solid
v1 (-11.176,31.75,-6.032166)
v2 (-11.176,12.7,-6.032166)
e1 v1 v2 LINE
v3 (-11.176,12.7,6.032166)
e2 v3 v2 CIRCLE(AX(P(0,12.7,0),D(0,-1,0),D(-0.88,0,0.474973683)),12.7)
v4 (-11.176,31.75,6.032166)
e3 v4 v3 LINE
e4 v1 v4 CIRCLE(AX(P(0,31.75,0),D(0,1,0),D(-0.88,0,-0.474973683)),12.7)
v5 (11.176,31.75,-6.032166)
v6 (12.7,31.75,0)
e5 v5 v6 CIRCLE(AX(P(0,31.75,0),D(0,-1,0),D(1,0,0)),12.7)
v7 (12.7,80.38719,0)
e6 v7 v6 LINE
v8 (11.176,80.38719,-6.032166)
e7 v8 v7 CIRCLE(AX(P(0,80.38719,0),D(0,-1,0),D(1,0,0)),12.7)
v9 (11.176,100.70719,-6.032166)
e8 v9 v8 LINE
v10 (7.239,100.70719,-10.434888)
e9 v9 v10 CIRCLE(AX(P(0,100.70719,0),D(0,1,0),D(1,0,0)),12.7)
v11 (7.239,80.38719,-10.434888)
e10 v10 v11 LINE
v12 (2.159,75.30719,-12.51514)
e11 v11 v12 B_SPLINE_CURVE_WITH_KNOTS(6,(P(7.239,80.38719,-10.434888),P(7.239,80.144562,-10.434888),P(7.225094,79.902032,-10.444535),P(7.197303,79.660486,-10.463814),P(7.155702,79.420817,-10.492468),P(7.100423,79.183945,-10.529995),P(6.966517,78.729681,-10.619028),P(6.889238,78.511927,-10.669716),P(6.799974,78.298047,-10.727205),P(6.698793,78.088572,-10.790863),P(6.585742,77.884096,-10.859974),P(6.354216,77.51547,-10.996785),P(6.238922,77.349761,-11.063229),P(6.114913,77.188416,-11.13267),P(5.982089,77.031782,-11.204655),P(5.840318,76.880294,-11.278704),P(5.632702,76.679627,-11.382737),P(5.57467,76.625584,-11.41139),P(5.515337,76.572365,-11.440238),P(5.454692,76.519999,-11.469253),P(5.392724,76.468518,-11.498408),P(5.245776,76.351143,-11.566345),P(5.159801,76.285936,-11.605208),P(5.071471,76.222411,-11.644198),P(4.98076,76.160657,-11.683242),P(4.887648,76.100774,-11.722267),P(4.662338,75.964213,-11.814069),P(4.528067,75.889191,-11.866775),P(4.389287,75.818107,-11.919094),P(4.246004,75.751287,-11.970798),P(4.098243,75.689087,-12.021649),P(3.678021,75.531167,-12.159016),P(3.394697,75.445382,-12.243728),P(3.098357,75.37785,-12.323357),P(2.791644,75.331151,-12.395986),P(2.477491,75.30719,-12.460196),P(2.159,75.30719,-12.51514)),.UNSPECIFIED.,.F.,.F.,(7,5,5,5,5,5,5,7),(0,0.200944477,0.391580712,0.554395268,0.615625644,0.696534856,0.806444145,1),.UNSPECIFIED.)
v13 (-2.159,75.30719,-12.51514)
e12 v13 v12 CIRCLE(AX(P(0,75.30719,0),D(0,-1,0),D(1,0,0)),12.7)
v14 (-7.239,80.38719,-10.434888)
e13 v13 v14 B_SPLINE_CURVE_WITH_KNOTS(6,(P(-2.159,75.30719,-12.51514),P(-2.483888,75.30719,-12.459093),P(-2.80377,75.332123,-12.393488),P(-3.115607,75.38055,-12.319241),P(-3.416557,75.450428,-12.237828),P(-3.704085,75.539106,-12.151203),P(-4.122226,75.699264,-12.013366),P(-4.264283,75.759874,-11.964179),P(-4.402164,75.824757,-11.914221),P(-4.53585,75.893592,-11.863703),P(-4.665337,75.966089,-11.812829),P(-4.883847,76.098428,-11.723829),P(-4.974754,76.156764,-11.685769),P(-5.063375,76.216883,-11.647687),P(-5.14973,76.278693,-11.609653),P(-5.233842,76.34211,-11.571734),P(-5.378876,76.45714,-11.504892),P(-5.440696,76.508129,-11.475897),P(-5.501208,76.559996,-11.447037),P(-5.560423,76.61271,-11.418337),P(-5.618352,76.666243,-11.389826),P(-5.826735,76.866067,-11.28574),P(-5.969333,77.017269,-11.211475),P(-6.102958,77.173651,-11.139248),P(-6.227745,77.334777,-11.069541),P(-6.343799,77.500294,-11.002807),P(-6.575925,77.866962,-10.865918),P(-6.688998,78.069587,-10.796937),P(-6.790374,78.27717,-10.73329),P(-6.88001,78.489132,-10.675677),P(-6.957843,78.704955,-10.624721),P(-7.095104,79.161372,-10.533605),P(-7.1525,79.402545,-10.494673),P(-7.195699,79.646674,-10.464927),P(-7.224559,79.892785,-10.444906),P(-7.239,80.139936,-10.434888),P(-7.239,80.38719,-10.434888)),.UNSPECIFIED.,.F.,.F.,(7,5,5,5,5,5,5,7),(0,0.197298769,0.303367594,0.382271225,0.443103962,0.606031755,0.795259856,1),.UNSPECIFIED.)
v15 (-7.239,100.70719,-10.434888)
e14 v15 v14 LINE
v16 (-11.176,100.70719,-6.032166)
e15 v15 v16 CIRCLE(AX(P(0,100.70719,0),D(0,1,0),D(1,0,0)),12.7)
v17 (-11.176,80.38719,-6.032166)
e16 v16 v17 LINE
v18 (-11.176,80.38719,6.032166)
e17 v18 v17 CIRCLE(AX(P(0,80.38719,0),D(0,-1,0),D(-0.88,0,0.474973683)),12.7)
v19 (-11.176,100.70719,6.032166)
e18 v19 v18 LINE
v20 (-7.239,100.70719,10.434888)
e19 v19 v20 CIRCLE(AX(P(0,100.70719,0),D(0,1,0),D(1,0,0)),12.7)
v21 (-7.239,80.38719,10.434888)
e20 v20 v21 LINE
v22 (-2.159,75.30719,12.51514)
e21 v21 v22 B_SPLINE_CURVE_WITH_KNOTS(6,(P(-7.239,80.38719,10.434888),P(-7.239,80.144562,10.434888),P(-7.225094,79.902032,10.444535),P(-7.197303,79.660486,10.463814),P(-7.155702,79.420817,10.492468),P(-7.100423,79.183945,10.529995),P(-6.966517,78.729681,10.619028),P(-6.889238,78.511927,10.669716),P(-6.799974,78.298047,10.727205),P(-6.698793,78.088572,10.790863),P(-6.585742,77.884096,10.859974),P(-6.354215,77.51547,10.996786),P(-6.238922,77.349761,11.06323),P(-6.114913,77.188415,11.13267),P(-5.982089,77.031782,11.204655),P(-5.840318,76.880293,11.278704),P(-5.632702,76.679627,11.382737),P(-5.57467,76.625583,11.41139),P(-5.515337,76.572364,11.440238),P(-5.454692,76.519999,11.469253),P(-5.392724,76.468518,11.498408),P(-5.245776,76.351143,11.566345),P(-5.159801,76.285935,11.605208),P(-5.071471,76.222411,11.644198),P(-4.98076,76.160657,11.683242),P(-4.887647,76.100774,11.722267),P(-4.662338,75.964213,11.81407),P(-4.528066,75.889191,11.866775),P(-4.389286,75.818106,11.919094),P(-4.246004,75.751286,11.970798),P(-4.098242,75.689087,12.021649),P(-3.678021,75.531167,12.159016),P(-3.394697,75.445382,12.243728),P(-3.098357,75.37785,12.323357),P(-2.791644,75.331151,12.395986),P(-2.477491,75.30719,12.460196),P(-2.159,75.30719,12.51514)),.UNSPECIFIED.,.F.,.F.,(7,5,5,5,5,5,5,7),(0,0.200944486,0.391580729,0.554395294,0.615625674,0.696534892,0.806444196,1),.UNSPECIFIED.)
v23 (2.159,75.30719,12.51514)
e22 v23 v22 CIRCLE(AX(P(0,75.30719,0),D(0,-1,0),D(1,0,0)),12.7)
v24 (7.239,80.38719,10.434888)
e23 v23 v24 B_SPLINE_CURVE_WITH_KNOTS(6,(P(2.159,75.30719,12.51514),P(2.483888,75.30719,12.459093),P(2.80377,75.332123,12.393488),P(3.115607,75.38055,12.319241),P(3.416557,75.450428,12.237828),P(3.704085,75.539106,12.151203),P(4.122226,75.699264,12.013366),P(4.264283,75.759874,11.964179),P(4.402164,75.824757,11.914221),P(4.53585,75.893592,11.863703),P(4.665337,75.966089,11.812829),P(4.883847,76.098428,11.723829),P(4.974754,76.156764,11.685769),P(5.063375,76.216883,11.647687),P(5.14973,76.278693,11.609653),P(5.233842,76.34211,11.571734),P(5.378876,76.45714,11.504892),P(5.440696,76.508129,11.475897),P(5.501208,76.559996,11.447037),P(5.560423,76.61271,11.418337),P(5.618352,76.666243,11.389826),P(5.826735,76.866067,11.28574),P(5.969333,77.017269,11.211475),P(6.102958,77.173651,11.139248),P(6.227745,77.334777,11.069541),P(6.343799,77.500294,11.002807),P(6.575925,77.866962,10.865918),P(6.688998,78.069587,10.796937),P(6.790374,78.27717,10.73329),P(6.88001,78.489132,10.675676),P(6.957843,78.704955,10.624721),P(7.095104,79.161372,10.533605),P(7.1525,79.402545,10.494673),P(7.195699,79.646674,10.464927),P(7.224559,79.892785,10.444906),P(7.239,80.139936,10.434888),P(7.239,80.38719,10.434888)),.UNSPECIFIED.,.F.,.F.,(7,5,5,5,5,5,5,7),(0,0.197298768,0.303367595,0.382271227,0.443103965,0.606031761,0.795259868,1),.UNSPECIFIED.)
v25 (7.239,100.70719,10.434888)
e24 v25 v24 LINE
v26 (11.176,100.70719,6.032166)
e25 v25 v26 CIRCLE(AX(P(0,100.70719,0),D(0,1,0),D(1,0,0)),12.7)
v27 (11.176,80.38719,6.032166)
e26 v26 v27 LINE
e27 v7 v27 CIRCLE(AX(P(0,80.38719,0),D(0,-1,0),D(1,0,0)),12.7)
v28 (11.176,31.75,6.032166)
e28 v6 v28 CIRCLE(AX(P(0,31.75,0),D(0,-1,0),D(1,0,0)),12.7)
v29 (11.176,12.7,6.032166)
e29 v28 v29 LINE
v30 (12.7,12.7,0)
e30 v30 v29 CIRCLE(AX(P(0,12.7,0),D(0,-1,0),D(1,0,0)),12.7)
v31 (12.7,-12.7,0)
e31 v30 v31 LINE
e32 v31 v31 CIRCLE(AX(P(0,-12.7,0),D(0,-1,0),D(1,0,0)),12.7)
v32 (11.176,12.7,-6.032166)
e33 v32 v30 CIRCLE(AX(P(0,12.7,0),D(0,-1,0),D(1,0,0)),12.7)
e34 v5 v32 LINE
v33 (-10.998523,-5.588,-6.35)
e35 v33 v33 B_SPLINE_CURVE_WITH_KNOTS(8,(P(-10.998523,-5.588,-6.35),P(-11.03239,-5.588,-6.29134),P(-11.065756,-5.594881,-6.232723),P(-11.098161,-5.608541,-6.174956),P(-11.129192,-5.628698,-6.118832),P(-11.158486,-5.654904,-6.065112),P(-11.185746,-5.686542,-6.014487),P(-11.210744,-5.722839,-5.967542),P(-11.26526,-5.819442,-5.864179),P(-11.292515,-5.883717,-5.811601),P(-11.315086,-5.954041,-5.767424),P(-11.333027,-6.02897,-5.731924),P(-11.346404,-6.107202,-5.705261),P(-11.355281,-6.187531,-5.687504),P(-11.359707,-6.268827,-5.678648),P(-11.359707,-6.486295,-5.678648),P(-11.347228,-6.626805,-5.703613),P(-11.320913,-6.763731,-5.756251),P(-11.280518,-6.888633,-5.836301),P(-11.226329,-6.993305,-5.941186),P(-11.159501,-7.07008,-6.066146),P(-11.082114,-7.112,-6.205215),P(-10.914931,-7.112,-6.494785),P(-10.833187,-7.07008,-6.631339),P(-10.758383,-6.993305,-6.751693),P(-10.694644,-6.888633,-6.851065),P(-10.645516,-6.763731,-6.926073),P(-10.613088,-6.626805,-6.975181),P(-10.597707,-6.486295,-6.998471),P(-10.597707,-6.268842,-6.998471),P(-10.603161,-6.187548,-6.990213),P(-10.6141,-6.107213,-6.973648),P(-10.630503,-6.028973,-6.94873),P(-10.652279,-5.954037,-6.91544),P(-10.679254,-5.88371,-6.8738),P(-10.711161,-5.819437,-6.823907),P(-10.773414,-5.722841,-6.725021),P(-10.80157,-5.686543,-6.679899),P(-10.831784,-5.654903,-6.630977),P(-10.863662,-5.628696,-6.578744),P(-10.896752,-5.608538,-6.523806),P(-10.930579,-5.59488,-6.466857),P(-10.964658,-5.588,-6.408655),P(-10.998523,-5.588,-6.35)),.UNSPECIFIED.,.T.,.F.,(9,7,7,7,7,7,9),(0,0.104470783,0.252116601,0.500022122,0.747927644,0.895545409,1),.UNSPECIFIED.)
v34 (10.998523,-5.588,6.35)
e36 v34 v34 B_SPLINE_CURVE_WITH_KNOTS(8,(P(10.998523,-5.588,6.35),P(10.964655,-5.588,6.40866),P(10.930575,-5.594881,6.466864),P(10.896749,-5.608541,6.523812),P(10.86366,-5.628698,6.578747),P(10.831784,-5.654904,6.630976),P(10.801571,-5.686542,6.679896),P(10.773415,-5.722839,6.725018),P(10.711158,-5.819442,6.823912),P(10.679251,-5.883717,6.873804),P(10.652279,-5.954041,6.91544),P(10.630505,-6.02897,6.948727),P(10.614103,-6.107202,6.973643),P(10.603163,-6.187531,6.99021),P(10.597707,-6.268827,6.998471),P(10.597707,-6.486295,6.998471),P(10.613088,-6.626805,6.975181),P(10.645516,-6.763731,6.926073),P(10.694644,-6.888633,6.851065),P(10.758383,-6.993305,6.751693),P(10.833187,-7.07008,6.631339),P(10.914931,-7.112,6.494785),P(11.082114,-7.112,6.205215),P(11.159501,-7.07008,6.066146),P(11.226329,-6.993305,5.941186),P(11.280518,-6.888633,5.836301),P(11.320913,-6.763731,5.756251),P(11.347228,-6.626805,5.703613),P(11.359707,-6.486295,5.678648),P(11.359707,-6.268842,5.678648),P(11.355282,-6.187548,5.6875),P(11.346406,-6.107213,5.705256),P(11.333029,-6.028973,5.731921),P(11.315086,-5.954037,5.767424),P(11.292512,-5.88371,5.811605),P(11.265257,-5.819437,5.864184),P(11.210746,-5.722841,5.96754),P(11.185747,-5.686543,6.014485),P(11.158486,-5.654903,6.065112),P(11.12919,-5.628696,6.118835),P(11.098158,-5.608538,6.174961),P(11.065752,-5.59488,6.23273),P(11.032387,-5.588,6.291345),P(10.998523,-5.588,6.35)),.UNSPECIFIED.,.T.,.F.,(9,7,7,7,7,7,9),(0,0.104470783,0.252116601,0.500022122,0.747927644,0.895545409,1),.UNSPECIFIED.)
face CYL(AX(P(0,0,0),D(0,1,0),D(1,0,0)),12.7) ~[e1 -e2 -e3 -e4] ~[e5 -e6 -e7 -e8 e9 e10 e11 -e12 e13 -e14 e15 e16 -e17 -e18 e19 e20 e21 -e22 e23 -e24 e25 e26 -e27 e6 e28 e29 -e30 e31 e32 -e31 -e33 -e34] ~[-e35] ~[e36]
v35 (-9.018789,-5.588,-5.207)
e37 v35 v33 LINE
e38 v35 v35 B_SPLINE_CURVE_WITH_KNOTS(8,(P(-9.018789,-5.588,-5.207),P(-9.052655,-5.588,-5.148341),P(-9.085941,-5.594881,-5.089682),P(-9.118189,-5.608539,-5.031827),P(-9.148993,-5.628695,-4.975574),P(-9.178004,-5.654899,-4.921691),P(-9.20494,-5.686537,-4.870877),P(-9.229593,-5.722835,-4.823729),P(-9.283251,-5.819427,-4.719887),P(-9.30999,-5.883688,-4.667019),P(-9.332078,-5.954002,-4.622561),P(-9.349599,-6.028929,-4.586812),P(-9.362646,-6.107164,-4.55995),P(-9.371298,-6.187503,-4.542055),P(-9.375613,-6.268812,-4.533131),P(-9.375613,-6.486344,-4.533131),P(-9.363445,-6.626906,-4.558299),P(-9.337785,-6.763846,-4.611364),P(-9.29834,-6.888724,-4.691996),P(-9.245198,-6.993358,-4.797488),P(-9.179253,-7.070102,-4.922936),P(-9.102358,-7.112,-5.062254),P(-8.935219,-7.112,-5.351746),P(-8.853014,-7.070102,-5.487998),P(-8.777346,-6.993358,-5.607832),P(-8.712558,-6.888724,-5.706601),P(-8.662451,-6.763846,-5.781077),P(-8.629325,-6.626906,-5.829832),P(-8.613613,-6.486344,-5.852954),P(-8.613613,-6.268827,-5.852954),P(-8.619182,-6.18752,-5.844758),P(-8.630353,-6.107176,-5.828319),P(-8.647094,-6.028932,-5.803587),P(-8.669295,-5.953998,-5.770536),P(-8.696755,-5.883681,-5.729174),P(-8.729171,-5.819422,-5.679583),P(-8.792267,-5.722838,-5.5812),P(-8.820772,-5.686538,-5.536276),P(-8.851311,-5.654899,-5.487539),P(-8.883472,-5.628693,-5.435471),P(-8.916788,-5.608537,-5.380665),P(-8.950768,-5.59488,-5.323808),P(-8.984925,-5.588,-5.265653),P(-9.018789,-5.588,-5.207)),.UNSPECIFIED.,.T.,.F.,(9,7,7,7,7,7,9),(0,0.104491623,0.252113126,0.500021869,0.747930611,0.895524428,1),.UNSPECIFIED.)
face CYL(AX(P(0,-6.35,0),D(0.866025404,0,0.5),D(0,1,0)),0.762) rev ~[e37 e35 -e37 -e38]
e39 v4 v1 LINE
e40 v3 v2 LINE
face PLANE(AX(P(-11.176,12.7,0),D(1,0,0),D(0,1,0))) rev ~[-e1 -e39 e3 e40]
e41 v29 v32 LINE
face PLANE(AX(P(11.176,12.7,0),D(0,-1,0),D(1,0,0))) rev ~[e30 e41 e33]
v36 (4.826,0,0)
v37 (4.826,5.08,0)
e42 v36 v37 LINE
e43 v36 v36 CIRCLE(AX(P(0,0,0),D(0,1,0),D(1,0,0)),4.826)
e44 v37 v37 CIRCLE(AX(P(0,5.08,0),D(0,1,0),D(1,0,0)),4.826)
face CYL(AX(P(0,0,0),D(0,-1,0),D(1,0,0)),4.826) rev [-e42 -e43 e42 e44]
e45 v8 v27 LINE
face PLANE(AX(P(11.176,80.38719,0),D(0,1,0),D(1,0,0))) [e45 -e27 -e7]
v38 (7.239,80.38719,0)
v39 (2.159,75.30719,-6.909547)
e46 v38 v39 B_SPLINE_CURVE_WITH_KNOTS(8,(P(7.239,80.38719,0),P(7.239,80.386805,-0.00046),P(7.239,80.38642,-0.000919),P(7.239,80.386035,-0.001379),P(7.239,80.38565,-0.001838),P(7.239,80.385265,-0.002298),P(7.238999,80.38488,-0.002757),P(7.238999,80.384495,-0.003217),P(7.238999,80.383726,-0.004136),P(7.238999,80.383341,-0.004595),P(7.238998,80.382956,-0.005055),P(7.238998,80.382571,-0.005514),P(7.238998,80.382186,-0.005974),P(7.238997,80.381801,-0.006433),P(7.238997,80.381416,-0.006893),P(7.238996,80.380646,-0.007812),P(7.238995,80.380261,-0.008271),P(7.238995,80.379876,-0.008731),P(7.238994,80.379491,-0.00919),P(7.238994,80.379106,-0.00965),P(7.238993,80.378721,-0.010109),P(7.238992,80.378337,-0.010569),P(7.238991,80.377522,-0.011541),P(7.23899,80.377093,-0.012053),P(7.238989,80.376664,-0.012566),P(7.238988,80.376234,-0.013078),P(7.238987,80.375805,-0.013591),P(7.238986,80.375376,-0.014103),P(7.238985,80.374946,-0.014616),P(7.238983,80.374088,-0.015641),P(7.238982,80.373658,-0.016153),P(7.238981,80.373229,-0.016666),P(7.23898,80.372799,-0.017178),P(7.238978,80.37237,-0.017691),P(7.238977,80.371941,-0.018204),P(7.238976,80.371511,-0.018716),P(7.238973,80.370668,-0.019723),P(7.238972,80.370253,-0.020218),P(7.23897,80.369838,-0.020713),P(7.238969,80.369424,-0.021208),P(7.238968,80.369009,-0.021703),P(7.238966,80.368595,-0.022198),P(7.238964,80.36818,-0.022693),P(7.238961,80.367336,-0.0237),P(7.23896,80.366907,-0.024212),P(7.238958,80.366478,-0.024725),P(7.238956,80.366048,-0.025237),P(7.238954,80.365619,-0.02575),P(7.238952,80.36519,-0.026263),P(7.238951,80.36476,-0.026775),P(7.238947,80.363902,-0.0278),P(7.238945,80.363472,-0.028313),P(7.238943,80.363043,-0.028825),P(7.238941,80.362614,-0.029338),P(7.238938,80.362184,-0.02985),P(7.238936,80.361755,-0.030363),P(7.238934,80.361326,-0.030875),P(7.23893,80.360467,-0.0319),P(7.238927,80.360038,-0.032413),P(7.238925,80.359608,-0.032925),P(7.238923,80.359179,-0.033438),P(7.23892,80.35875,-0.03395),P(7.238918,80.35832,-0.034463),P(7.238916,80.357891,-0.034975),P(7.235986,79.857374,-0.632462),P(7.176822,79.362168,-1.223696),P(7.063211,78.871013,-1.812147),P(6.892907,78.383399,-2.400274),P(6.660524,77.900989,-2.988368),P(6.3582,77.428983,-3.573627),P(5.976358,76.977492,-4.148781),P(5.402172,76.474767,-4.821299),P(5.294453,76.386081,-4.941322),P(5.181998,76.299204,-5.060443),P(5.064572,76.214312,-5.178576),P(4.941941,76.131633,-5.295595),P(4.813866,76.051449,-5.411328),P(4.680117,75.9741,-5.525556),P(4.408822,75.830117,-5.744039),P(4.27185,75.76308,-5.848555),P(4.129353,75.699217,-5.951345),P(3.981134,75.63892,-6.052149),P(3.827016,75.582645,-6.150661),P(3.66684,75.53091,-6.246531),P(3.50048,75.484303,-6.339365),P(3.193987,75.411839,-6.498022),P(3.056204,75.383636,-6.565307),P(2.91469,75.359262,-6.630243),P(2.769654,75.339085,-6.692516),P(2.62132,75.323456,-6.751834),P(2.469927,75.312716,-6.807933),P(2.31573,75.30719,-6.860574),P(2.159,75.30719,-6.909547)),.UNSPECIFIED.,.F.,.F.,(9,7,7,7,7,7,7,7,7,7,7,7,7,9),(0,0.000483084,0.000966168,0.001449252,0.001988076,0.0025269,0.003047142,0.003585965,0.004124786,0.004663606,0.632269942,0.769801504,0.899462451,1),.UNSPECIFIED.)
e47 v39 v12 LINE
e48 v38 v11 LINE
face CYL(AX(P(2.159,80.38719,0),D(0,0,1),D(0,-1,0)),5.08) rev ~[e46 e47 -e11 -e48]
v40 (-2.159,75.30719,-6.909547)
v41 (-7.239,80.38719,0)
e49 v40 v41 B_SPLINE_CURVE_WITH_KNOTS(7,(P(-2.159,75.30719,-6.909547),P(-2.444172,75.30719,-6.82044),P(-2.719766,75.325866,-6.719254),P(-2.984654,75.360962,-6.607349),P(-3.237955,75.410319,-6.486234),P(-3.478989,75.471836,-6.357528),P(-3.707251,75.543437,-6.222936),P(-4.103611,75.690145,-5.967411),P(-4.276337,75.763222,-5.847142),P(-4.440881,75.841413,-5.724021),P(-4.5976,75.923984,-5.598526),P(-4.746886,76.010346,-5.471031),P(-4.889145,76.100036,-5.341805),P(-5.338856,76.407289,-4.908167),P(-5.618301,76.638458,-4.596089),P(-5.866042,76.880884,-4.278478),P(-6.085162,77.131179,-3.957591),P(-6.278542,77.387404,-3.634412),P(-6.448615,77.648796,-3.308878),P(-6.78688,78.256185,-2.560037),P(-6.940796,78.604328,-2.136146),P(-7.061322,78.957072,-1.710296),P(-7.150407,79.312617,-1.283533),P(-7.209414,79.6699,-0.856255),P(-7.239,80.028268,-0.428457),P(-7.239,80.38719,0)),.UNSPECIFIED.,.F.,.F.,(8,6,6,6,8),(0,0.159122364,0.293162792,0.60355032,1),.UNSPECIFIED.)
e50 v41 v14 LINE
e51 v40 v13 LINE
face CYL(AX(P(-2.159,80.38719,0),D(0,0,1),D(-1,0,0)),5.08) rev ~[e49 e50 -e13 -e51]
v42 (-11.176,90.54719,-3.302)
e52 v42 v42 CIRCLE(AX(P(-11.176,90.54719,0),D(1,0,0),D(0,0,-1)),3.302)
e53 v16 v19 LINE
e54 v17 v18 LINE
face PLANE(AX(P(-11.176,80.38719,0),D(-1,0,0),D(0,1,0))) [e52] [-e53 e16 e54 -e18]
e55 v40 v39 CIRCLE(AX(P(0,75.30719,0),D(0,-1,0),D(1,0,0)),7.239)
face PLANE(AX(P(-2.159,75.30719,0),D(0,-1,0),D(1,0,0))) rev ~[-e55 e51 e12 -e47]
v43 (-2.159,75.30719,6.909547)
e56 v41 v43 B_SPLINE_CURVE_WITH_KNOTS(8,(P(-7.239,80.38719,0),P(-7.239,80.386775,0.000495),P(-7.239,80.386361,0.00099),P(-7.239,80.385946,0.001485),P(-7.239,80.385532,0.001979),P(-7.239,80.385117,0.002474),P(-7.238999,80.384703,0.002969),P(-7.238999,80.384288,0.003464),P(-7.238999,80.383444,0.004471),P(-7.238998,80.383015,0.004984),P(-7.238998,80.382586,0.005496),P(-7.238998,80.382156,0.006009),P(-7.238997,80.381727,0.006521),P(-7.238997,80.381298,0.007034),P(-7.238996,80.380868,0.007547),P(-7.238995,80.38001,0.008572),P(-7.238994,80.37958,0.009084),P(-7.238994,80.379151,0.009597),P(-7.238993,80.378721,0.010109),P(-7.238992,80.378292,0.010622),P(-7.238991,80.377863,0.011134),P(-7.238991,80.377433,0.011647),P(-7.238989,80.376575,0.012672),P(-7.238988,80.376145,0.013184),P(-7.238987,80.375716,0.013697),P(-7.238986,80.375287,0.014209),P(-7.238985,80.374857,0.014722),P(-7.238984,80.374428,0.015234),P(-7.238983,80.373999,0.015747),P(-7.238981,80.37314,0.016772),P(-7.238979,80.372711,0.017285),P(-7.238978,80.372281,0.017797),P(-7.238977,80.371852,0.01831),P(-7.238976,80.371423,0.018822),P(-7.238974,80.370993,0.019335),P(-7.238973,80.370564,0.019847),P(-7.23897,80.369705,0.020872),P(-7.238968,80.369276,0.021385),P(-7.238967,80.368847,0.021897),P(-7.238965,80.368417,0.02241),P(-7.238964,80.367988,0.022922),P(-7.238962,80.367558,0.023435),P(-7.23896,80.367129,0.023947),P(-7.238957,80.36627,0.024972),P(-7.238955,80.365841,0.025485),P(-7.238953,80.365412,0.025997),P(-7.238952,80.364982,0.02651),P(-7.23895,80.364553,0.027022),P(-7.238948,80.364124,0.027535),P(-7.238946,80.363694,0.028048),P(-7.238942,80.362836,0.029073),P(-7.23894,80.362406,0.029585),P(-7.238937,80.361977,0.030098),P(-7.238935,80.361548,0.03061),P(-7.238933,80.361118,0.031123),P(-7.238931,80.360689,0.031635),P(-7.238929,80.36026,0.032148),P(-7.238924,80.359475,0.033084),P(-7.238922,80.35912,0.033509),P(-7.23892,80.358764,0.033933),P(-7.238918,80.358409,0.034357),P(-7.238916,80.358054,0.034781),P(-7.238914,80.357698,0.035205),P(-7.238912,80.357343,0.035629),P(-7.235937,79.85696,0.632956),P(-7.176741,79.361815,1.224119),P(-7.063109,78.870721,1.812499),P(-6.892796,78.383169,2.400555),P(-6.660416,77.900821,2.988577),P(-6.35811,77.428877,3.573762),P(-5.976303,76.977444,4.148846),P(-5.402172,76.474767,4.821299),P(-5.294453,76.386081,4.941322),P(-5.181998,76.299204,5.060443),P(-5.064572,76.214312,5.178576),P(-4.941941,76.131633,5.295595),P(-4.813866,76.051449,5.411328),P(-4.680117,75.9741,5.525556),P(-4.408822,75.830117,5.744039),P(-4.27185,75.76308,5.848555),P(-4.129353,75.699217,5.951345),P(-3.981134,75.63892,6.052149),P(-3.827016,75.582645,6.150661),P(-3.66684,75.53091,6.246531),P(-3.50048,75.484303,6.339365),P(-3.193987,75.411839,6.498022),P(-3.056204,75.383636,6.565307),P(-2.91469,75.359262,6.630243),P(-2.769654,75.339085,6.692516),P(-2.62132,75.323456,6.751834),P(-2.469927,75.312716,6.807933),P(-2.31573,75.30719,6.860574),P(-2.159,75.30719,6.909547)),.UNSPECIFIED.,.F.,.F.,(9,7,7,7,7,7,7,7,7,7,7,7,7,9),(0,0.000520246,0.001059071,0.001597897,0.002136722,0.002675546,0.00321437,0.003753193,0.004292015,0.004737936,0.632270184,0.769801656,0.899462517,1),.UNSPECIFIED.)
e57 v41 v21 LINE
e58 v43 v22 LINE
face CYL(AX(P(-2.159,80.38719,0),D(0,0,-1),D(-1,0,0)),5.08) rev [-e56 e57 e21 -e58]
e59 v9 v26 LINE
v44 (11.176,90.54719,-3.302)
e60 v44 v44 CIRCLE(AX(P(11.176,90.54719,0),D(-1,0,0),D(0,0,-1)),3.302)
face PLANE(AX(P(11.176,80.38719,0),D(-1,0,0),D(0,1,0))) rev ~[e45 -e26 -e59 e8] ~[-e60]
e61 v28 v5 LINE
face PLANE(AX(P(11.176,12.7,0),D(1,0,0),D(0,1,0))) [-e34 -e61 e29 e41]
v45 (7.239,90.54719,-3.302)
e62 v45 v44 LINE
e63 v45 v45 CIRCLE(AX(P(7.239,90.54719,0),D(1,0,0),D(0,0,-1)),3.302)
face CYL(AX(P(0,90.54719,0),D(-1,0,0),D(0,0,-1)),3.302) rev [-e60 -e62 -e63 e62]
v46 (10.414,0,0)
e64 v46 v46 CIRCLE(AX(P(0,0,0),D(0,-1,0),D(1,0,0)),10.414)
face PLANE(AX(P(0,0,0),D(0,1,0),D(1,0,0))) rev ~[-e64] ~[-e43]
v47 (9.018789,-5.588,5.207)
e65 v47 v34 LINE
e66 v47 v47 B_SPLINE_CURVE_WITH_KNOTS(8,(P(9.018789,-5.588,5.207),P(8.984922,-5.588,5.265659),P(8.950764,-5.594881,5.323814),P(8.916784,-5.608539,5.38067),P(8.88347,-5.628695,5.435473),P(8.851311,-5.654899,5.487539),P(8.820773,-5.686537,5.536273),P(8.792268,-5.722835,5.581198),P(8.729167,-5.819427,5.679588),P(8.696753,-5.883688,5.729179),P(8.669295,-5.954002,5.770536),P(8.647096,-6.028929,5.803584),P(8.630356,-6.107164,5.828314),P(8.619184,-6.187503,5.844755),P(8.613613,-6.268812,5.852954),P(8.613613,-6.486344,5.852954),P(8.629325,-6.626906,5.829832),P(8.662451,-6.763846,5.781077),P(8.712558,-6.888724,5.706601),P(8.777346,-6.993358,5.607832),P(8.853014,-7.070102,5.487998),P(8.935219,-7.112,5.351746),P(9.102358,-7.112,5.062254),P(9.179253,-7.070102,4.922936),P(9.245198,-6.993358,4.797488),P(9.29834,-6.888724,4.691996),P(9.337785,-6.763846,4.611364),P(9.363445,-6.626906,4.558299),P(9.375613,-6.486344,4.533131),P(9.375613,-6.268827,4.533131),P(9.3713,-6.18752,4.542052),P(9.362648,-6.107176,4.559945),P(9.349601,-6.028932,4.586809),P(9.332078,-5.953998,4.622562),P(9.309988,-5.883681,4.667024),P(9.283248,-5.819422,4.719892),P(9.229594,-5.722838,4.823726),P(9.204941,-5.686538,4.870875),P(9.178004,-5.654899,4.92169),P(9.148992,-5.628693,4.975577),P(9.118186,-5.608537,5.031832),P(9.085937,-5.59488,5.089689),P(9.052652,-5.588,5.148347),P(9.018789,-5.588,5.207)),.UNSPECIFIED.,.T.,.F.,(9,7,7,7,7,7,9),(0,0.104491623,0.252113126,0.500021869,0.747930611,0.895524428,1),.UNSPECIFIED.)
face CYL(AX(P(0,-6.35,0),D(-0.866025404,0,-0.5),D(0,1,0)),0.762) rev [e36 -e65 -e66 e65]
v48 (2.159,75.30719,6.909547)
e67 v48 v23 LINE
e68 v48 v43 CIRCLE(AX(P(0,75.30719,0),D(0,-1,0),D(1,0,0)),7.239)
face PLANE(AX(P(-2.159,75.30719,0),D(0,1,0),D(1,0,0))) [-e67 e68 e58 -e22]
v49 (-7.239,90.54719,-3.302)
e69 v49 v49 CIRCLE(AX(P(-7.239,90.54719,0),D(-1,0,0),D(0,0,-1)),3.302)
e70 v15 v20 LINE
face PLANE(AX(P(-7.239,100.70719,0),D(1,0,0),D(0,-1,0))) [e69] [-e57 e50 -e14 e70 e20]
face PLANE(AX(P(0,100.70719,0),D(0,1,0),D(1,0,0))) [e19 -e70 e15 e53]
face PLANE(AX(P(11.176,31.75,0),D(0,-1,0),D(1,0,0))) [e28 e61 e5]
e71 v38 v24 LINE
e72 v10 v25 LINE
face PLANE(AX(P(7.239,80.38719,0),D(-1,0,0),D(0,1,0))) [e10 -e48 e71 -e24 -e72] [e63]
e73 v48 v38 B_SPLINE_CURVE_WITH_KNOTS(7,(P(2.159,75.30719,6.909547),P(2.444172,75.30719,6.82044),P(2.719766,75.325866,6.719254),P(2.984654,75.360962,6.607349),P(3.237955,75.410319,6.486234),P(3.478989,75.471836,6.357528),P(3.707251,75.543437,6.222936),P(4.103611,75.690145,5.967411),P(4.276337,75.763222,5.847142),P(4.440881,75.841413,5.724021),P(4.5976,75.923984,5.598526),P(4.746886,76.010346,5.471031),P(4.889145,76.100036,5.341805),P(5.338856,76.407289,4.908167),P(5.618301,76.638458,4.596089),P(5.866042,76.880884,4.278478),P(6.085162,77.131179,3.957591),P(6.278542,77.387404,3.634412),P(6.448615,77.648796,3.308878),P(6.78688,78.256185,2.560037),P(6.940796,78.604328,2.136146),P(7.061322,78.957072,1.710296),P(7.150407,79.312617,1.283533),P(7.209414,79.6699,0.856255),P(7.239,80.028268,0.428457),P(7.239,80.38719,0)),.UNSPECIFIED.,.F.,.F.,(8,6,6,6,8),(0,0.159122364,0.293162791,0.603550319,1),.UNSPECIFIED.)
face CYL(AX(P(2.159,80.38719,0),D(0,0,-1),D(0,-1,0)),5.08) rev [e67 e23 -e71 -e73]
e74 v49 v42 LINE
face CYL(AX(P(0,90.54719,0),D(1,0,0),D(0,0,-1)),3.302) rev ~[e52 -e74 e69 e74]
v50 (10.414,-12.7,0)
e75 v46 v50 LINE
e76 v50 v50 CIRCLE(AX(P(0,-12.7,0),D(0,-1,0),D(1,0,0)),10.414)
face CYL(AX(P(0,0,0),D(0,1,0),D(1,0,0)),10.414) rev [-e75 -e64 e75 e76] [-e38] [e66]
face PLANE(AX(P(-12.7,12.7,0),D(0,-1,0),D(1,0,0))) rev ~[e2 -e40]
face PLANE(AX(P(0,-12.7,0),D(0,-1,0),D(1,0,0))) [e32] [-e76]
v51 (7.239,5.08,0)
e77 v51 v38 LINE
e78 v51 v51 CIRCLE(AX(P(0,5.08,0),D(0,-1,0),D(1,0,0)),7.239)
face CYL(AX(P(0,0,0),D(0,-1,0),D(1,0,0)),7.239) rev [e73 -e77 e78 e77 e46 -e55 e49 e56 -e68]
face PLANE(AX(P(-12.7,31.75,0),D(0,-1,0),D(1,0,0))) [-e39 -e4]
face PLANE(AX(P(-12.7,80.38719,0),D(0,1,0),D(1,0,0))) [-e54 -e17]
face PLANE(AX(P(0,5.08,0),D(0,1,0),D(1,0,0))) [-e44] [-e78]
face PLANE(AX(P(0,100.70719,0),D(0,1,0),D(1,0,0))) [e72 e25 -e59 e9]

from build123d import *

# Parameters (mm, degrees)
SKETCH1_R                                     = 12.7
SKETCH1_R_2                                   = 4.826
SOCKET_HEAD_STOP_DEPTH                        = 5.08
SKETCH2_R                                     = 12.7
SKETCH2_R_2                                   = 7.239
MAIN_BODY_DEPTH                               = 100.70719
SKETCH6_R                                     = 3.302
ROD_END_MOUNTING_HOLES_DEPTH                  = 13.7
ROD_END_MOUNTING_HOLES_DEPTH_BACK             = 13.7
SKETCH3_W                                     = 1.524
SKETCH3_H                                     = 19.05
SKETCH3_H_2                                   = 20.32
ROD_END_BODY_HOLES_AND_WRENCH_CUTS_DEPTH      = 13.7000001
ROD_END_BODY_HOLES_AND_WRENCH_CUTS_DEPTH_BACK = 13.7000001
SKETCH4_R                                     = 12.7
SKETCH4_R_2                                   = 10.414
RACK_COVER_DEPTH                              = 12.7
SKETCH7_R                                     = 0.762
SAFETY_WIRE_HOLES_DEPTH                       = 18.348522765
SAFETY_WIRE_HOLES_DEPTH_BACK                  = 18.348522765


with BuildPart() as part:
    # Sketch1 → Socket Head Stop (new body)
    with BuildSketch(Plane(origin=(0, 0, 0), x_dir=(1, 0, 0), z_dir=(0, 1, 0))):
        Circle(SKETCH1_R)
        Circle(SKETCH1_R_2, mode=Mode.SUBTRACT)
    extrude(amount=SOCKET_HEAD_STOP_DEPTH)

    # Sketch2 → Main Body (add)
    with BuildSketch(Plane(origin=(0, 0, 0), x_dir=(1, 0, 0), z_dir=(0, 1, 0))):
        Circle(SKETCH2_R)
        Circle(SKETCH2_R_2, mode=Mode.SUBTRACT)
    extrude(amount=MAIN_BODY_DEPTH)

    # Sketch6 → Rod End Mounting Holes (cut, two sides)
    with BuildSketch(Plane(origin=(0, 0, 0), x_dir=(0, 0, -1), z_dir=(1, 0, 0))) as rod_end_mounting_holes_sk:
        with Locations((0, 90.54719)):
            Circle(SKETCH6_R)
    extrude(amount=ROD_END_MOUNTING_HOLES_DEPTH, mode=Mode.SUBTRACT)
    extrude(rod_end_mounting_holes_sk.sketch, amount=-ROD_END_MOUNTING_HOLES_DEPTH_BACK, mode=Mode.SUBTRACT)

    # Sketch3 → Rod End Body Holes And Wrench Cuts (cut, two sides)
    with BuildSketch(Plane.XY) as rod_end_body_holes_and_wrench_cuts_sk:
        with BuildLine():
            Line((7.239, 100.70719), (-7.239, 100.70719))
            Line((-7.239, 100.70719), (-7.239, 80.38719))
            ThreePointArc((-7.239, 80.38719), (-5.751102448, 76.795087552), (-2.159, 75.30719))
            Line((-2.159, 75.30719), (2.159, 75.30719))
            ThreePointArc((2.159, 75.30719), (5.751102448, 76.795087552), (7.239, 80.38719))
            Line((7.239, 80.38719), (7.239, 100.70719))
        make_face()
        with Locations((11.938, 22.225)):
            Rectangle(SKETCH3_W, SKETCH3_H)
        with Locations((-11.938, 90.54719)):
            Rectangle(SKETCH3_W, SKETCH3_H_2)
        with Locations((11.938, 90.54719)):
            Rectangle(SKETCH3_W, SKETCH3_H_2)
        with Locations((-11.938, 22.225)):
            Rectangle(SKETCH3_W, SKETCH3_H)
    extrude(amount=ROD_END_BODY_HOLES_AND_WRENCH_CUTS_DEPTH, mode=Mode.SUBTRACT)
    extrude(rod_end_body_holes_and_wrench_cuts_sk.sketch, amount=-ROD_END_BODY_HOLES_AND_WRENCH_CUTS_DEPTH_BACK, mode=Mode.SUBTRACT)

    # Sketch4 → Rack Cover (add)
    with BuildSketch(Plane.XZ):
        Circle(SKETCH4_R)
        Circle(SKETCH4_R_2, mode=Mode.SUBTRACT)
    extrude(amount=RACK_COVER_DEPTH)

    # Sketch7 → Safety Wire Holes (cut, two sides)
    with BuildSketch(Plane(origin=(0, 0, 0), x_dir=(0, 1, 0), z_dir=(0.866025404, 0, 0.5))) as safety_wire_holes_sk:
        with Locations((-6.35, 0)):
            Circle(SKETCH7_R)
    extrude(amount=SAFETY_WIRE_HOLES_DEPTH, mode=Mode.SUBTRACT)
    extrude(safety_wire_holes_sk.sketch, amount=-SAFETY_WIRE_HOLES_DEPTH_BACK, mode=Mode.SUBTRACT)


solid = part.part
